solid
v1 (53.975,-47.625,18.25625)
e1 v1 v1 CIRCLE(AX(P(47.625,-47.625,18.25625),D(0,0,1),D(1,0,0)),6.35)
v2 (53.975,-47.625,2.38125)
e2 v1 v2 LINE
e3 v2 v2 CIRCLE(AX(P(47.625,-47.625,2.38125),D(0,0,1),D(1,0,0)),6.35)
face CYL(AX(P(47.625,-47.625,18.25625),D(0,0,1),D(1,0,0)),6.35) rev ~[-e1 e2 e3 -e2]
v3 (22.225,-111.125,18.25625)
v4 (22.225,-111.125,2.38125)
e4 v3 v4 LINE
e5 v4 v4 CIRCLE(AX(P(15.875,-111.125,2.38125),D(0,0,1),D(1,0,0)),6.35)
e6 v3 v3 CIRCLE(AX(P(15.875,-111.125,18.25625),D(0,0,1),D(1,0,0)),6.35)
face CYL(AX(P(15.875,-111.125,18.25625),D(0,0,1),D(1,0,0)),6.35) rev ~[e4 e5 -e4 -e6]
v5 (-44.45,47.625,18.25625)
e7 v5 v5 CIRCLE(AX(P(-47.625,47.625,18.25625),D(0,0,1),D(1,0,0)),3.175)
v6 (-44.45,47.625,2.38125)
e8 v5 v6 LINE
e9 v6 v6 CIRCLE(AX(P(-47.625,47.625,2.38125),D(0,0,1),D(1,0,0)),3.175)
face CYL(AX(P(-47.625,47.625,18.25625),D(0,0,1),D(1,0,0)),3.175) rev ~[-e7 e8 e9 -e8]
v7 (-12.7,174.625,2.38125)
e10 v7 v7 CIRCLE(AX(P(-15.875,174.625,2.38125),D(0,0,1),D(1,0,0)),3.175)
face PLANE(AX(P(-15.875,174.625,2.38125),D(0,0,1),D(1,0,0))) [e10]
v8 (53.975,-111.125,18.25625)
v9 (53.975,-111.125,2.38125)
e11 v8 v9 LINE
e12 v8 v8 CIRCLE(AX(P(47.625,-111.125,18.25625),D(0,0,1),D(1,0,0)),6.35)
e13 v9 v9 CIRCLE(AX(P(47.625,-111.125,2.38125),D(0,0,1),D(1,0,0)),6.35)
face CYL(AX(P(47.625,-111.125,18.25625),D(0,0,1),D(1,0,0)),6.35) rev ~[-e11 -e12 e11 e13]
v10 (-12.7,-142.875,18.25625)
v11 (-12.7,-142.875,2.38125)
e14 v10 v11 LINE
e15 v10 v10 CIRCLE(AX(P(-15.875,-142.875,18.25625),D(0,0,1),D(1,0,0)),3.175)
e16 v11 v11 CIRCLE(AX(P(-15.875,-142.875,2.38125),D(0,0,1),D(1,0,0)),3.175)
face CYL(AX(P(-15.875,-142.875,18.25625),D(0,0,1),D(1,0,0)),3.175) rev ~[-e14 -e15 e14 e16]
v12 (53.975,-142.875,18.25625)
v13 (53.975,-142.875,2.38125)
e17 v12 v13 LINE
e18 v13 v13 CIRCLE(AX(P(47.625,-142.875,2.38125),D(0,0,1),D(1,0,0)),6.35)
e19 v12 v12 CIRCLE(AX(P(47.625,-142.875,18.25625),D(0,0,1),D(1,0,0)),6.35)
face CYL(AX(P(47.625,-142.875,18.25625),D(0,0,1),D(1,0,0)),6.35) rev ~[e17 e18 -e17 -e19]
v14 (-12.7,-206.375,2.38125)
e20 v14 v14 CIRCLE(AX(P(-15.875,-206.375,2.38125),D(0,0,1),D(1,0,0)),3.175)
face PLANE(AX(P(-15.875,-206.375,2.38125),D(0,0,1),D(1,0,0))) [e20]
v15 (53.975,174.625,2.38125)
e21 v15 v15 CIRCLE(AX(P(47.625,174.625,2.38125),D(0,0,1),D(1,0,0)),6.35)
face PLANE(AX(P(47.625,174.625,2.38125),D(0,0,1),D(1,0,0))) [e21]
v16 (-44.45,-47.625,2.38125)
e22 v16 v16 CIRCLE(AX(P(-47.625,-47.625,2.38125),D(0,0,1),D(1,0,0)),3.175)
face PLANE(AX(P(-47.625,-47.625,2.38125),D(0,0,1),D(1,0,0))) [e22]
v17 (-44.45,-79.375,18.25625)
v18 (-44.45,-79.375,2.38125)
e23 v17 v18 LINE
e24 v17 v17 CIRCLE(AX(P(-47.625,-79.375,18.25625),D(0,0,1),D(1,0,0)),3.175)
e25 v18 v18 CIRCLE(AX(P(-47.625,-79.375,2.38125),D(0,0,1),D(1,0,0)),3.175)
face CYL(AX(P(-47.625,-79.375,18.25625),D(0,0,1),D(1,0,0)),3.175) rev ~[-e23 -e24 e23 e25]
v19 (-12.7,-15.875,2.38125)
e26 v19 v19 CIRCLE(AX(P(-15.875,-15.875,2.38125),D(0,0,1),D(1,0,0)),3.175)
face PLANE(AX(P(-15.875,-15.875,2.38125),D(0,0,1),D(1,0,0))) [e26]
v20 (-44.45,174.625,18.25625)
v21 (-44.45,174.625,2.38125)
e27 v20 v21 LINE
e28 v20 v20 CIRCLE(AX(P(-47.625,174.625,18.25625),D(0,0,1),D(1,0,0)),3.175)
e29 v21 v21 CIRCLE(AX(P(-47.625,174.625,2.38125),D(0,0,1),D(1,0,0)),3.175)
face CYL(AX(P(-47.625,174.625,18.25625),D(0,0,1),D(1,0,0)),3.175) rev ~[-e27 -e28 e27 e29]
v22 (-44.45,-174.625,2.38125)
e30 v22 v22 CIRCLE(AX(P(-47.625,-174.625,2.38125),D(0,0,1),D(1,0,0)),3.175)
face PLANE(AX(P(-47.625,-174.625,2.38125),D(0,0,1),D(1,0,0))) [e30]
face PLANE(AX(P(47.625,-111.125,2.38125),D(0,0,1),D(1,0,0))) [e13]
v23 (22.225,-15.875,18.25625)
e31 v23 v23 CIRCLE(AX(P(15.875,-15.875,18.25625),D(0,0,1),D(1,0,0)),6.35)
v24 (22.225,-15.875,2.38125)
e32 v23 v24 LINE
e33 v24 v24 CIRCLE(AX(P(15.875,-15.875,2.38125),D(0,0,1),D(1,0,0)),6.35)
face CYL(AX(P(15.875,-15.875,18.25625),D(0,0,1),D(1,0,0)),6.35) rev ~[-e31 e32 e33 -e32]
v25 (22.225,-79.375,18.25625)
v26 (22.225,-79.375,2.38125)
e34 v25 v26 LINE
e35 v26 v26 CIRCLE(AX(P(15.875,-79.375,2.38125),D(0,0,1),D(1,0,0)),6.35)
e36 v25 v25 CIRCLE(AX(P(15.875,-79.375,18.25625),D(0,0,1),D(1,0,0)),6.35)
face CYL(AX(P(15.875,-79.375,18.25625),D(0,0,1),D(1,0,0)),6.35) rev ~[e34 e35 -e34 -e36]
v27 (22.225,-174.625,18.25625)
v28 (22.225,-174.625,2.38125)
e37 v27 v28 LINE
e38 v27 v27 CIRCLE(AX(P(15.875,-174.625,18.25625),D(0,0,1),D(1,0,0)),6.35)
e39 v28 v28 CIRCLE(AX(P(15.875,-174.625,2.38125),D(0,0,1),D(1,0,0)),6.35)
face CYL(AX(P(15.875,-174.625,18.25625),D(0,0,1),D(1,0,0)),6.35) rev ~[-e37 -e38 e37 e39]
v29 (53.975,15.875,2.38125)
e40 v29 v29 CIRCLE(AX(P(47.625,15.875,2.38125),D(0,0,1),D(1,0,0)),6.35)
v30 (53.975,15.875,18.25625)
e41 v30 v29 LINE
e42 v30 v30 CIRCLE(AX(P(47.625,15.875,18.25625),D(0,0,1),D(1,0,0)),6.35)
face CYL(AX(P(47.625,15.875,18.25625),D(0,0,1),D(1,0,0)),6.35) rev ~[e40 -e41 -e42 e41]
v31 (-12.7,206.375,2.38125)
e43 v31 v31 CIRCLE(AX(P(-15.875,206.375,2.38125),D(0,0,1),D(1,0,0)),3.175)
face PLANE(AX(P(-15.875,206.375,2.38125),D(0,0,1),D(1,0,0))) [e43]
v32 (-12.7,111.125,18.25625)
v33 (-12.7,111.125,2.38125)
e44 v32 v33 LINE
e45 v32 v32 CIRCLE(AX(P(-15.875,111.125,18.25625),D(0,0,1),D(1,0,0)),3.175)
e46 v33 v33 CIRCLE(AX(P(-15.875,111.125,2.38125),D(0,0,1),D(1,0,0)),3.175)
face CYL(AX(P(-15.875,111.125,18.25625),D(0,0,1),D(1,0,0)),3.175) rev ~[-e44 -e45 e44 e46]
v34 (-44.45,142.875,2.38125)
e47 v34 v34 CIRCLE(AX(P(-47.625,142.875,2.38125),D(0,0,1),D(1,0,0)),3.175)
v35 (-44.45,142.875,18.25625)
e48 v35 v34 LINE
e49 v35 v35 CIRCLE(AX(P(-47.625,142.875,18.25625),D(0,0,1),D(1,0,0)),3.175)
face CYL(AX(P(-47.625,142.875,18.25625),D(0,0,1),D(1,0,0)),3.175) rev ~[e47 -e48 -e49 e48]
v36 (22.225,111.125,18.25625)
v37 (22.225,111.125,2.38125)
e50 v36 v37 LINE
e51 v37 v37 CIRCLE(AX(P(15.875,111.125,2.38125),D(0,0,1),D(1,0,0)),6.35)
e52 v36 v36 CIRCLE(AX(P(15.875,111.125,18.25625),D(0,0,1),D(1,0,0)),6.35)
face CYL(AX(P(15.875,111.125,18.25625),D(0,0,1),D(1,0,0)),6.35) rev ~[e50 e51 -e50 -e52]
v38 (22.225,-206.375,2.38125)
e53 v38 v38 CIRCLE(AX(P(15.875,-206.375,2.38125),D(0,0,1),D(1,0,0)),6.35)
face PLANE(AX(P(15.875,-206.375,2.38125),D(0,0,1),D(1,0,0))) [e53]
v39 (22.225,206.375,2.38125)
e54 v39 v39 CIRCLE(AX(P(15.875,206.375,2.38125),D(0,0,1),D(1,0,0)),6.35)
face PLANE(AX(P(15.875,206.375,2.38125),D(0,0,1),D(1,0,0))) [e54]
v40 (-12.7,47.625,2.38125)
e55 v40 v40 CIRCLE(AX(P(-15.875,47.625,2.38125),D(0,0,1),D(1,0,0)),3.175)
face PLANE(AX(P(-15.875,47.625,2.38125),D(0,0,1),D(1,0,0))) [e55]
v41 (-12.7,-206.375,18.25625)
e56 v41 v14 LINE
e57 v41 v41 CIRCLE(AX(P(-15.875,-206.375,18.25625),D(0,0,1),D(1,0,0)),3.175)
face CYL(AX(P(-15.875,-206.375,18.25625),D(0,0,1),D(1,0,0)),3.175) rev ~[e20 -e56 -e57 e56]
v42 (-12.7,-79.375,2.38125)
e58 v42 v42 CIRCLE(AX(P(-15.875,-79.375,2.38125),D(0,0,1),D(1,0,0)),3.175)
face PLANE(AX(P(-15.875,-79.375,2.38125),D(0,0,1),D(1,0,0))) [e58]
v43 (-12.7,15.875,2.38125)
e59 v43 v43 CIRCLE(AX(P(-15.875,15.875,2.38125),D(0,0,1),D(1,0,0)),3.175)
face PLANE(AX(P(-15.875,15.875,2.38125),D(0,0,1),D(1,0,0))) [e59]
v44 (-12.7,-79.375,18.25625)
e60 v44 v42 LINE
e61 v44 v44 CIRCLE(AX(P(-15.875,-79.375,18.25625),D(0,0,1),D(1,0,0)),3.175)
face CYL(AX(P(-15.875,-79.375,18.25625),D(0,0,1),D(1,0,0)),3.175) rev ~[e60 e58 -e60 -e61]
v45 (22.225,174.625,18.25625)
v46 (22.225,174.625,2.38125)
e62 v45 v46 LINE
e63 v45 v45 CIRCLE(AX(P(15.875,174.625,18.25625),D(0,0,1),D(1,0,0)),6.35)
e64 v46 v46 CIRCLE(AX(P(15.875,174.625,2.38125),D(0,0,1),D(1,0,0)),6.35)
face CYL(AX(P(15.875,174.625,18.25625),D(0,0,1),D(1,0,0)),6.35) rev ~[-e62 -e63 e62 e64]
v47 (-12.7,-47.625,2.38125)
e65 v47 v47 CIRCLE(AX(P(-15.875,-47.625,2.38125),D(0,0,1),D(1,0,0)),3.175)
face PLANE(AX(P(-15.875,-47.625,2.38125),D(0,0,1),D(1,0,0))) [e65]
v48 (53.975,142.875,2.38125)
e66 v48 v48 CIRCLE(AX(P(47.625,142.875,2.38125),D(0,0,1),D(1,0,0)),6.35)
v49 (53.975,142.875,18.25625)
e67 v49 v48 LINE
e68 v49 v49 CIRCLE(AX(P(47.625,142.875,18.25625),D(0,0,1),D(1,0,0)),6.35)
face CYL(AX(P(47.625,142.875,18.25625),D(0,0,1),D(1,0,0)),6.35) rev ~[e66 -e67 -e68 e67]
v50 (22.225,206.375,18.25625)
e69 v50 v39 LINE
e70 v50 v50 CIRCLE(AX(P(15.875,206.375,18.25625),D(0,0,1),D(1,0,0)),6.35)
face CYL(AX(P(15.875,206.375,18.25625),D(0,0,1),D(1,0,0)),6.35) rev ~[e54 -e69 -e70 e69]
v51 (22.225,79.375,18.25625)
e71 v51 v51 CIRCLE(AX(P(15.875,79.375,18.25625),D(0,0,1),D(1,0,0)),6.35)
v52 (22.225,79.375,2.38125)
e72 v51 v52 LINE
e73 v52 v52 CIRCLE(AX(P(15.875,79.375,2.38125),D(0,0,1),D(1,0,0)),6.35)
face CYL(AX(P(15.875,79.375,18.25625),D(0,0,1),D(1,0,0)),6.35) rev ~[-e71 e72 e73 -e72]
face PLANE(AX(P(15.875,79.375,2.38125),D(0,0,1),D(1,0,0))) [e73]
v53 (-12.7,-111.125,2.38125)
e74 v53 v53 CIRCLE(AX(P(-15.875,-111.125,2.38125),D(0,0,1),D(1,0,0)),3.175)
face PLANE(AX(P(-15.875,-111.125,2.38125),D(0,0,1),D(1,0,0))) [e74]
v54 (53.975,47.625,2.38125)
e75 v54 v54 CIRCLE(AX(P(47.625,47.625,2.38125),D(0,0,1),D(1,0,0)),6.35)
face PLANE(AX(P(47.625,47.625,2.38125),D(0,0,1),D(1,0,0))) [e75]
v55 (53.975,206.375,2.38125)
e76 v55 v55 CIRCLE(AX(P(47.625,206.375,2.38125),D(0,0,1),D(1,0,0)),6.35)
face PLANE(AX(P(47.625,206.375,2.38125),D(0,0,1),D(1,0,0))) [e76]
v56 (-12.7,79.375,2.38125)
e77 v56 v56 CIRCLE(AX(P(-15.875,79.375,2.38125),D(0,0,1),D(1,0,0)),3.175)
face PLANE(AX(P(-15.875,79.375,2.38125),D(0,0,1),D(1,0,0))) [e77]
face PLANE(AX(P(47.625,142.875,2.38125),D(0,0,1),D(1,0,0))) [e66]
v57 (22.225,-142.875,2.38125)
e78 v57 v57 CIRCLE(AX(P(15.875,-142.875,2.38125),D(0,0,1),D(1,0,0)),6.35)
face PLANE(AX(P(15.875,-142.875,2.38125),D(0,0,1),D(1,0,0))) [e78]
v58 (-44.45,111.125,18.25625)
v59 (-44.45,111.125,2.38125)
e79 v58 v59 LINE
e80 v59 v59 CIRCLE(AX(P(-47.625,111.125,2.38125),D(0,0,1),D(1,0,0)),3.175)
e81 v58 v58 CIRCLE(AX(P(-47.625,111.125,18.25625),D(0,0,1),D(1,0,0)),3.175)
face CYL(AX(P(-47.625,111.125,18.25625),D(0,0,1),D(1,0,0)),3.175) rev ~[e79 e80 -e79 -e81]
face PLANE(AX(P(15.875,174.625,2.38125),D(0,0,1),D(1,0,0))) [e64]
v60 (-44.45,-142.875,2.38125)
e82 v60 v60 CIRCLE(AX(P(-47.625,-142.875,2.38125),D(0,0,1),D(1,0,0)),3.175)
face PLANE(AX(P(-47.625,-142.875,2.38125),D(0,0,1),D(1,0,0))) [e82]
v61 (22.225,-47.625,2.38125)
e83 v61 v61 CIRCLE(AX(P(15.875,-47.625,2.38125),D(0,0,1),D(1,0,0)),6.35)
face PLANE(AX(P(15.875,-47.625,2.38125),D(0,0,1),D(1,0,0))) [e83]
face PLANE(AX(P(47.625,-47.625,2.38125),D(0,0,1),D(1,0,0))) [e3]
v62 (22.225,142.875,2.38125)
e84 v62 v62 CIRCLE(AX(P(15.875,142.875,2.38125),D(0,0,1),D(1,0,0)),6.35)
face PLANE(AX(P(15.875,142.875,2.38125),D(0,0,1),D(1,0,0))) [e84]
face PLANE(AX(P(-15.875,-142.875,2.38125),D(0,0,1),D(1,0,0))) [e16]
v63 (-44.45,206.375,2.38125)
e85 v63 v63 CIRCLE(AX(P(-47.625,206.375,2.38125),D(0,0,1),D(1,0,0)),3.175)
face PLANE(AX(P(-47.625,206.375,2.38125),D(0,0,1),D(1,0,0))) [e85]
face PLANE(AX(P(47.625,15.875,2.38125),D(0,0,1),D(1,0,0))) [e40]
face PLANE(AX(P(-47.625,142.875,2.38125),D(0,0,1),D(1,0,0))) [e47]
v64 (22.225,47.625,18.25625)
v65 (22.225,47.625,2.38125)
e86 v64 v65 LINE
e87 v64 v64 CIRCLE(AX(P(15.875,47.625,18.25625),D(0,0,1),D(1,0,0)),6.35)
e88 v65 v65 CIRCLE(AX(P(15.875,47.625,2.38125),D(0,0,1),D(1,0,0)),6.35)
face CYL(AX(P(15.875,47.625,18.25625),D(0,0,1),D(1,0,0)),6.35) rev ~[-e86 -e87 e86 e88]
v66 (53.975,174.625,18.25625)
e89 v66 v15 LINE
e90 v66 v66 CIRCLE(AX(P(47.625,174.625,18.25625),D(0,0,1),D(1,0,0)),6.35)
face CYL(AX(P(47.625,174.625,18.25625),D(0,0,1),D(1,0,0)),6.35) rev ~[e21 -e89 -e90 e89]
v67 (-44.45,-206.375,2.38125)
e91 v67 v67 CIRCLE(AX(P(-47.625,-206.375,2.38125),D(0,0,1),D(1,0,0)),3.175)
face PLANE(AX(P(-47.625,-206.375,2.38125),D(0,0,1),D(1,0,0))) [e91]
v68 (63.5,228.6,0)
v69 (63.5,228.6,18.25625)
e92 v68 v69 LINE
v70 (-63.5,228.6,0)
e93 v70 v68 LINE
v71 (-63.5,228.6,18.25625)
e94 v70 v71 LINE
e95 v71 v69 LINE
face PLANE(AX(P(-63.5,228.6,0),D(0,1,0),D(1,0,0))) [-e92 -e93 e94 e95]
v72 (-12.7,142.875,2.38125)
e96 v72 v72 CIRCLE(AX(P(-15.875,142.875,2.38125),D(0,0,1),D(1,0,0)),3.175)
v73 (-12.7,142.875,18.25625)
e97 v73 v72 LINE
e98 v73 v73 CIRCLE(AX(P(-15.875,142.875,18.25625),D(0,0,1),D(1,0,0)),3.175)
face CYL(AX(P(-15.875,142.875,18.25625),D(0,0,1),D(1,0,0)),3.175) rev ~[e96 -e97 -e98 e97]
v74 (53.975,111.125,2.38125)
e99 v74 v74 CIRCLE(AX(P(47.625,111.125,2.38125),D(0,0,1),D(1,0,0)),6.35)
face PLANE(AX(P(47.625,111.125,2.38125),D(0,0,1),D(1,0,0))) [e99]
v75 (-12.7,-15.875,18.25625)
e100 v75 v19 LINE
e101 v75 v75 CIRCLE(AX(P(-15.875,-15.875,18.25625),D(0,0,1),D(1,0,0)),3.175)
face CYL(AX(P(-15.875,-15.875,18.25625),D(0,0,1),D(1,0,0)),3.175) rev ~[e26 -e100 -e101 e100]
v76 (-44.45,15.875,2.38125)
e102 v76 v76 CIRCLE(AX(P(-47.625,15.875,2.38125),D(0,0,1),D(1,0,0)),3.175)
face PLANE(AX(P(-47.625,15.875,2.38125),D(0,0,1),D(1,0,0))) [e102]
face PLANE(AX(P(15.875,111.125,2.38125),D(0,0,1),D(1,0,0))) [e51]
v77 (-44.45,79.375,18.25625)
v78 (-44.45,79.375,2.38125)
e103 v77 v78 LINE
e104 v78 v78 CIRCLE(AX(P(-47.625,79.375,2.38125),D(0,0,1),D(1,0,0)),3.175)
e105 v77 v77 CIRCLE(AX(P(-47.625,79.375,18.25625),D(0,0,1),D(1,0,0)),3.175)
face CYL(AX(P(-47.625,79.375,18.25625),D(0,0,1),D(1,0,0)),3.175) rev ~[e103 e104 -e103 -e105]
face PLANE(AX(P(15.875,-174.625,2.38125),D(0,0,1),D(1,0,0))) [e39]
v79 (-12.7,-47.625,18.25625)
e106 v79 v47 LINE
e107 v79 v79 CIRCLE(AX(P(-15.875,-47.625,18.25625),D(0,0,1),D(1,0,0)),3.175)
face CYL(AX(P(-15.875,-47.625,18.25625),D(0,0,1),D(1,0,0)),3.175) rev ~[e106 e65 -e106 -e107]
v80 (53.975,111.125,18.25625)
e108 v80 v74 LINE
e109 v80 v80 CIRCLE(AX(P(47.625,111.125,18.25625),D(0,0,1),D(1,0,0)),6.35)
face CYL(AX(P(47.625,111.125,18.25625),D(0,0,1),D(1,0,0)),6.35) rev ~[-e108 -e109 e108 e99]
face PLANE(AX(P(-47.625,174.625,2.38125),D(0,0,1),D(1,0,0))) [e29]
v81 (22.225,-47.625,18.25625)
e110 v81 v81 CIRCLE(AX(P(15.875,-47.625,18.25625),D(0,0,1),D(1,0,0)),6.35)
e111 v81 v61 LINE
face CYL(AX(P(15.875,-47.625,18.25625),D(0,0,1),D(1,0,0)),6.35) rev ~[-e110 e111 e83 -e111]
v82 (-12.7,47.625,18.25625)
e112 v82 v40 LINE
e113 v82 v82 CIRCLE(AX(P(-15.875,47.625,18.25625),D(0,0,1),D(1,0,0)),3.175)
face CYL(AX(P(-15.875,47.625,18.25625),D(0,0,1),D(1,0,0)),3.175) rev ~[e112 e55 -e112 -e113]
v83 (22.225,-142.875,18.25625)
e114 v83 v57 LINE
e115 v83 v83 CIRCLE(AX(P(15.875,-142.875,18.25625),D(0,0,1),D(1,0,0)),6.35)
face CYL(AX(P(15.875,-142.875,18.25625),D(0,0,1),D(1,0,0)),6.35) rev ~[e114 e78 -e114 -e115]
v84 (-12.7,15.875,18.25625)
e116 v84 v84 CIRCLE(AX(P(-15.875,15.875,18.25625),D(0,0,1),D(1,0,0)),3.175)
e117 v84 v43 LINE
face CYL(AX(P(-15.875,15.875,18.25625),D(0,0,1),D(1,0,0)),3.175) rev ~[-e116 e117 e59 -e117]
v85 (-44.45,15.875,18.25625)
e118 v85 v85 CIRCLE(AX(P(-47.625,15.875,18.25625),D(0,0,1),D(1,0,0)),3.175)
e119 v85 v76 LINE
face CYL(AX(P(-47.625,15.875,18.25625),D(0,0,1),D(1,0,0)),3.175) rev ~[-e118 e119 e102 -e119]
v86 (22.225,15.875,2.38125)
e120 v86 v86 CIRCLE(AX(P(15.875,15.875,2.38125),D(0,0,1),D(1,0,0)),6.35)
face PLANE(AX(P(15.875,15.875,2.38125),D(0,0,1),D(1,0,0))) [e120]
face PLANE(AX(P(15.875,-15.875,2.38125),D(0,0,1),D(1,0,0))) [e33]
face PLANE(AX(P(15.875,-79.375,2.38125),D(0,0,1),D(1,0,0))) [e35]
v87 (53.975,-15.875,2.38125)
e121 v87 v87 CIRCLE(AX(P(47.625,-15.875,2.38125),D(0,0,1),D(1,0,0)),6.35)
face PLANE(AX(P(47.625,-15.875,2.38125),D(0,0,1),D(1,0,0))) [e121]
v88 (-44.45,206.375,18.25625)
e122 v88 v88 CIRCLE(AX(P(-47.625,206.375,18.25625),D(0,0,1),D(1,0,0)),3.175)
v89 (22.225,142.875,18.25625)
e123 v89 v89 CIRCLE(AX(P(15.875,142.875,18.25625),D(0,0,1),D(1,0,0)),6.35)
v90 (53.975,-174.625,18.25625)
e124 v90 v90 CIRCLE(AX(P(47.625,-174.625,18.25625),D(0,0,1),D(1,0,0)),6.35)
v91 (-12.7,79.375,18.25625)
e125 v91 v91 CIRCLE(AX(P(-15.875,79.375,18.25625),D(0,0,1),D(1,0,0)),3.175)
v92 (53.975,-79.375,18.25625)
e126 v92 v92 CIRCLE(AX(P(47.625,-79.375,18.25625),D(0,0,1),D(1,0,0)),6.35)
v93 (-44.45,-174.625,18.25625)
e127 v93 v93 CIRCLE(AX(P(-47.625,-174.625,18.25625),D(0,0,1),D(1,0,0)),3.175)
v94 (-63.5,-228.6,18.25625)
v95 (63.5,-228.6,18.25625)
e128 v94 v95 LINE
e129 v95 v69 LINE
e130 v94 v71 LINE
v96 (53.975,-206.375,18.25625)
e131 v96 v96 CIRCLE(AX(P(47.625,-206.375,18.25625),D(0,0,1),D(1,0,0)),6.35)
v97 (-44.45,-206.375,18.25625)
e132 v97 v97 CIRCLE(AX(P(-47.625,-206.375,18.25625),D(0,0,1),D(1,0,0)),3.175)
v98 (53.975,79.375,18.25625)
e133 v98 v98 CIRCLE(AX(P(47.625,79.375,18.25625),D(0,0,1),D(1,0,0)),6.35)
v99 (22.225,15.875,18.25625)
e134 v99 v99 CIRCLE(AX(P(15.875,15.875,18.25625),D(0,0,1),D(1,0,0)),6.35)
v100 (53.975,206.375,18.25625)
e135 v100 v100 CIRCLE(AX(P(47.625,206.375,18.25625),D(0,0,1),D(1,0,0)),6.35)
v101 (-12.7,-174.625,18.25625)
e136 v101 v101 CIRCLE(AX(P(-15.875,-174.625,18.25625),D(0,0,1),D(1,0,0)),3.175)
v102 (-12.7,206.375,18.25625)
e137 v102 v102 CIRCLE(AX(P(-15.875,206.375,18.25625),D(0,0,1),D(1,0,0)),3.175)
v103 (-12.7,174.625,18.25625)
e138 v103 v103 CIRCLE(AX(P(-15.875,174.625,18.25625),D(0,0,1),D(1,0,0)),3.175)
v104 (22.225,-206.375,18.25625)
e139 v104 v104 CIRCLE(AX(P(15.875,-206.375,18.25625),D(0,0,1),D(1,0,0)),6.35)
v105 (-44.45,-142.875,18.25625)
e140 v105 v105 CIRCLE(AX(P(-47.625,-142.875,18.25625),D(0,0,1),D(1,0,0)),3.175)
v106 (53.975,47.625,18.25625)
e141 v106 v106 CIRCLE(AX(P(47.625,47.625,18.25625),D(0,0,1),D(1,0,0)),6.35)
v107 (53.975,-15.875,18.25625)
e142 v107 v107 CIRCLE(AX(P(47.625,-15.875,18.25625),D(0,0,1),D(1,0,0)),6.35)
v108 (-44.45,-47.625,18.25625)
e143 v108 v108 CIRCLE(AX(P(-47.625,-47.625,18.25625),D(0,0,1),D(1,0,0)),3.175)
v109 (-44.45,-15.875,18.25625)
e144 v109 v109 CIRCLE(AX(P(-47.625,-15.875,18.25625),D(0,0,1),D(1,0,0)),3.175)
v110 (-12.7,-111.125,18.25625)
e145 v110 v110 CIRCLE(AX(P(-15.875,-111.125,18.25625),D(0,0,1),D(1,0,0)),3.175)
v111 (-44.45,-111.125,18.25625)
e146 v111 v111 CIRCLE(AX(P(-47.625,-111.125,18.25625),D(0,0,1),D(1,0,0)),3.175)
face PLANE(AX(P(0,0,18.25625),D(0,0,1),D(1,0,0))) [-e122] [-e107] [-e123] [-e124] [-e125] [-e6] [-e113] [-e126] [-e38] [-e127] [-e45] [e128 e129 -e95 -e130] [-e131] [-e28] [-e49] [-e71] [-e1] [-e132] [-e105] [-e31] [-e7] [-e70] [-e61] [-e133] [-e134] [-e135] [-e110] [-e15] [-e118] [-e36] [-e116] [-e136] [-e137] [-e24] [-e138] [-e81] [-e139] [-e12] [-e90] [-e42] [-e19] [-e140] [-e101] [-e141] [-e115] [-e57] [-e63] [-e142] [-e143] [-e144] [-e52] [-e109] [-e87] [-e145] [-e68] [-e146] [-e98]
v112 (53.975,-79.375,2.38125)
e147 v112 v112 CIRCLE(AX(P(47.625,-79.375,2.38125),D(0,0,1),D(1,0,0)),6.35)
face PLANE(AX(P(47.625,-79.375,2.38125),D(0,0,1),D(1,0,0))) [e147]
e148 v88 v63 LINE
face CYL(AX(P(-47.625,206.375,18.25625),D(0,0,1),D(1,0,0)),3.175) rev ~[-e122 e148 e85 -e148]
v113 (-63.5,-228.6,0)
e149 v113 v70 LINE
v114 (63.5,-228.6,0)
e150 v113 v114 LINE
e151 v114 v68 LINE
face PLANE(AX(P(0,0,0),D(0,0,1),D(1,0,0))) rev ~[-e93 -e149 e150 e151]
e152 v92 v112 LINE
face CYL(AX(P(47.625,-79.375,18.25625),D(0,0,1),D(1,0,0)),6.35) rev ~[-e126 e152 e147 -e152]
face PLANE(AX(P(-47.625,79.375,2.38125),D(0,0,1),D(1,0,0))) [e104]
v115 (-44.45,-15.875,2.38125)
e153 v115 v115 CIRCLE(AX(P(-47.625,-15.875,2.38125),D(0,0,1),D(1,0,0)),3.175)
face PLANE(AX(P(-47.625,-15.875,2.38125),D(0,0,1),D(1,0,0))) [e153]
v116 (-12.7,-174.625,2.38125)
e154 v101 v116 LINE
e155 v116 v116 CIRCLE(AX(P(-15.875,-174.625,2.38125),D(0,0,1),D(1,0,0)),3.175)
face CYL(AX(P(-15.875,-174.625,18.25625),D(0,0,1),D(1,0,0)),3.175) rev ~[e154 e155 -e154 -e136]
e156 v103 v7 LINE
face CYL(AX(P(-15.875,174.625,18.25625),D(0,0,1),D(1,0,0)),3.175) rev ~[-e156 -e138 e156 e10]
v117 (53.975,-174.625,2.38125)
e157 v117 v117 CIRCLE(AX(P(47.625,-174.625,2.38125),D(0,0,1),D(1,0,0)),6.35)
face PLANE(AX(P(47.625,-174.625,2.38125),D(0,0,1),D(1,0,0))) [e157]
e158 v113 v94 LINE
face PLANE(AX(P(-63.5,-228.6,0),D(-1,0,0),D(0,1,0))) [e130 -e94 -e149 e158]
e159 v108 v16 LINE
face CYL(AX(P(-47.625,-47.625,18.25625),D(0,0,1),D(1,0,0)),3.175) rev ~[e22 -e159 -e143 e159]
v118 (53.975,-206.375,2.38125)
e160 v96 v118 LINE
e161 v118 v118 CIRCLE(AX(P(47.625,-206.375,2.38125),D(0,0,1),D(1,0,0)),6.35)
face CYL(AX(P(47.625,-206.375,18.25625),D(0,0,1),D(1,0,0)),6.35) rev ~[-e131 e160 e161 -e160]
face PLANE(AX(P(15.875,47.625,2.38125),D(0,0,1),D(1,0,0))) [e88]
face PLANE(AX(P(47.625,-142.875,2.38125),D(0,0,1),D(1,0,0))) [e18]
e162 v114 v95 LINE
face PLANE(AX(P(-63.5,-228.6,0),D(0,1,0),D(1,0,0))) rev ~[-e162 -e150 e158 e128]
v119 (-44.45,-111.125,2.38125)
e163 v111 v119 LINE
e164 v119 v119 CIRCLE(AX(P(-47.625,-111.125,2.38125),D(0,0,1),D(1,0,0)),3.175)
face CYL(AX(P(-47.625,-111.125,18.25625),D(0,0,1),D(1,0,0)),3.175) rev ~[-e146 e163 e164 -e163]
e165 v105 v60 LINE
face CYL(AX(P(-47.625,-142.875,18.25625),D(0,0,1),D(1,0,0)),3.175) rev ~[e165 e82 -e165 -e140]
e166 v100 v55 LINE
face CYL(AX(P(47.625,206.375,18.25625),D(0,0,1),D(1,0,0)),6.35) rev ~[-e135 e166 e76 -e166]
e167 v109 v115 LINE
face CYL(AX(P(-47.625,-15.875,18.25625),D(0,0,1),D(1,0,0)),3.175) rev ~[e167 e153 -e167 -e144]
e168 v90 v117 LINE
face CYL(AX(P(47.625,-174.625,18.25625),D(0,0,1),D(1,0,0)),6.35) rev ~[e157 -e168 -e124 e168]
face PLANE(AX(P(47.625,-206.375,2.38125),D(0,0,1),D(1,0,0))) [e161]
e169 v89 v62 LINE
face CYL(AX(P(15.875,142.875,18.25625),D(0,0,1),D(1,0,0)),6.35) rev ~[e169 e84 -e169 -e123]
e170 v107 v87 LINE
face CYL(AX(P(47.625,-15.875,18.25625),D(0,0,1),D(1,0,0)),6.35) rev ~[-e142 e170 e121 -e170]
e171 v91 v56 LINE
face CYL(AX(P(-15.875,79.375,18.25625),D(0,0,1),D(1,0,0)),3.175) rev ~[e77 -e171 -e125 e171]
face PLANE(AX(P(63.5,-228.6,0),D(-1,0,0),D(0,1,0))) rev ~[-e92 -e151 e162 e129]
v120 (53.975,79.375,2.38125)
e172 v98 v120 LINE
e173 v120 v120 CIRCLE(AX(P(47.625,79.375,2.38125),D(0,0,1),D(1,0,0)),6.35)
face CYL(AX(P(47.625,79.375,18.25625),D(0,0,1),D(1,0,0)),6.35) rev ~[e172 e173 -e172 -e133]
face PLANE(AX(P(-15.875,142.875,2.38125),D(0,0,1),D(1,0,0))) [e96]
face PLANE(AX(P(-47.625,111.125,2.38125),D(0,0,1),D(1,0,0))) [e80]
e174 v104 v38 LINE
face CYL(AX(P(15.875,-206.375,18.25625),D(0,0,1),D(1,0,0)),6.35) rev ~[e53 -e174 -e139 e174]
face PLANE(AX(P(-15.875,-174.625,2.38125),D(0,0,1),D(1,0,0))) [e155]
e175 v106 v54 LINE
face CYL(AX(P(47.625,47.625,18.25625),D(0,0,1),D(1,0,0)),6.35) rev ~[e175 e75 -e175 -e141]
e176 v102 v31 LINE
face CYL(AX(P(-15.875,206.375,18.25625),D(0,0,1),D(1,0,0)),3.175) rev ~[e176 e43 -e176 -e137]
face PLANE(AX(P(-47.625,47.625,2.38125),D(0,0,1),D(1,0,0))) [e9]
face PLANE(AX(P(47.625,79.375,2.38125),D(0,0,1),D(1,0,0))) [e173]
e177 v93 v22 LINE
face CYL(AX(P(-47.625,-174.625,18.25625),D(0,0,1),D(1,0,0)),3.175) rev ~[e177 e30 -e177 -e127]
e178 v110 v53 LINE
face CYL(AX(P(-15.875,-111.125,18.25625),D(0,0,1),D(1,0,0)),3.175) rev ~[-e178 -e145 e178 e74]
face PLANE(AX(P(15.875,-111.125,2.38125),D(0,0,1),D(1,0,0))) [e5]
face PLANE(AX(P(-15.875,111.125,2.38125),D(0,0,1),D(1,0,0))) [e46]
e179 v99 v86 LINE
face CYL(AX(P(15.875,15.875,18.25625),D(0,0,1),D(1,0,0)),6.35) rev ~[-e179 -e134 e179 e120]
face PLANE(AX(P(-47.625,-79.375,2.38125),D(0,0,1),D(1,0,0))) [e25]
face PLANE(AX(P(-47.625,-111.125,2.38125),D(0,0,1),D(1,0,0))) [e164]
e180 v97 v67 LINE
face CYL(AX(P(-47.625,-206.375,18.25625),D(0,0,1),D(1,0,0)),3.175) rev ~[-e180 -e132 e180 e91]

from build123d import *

# Parameters (mm, degrees)
F0_W     = 127
F0_H     = 457.2
F1_DEPTH = 18.25625
F2_R     = 6.35
F2_R_2   = 3.175
F3_DEPTH = 15.875


with BuildPart() as f1:
    # F0 (on Top) → F1 (new body)
    with BuildSketch(Plane.XY):
        Rectangle(F0_W, F0_H)
    extrude(amount=F1_DEPTH)

    # F2 (on face) → F3 (cut)
    with BuildSketch(Plane.XY.offset(18.25625)):
        with Locations((47.625, 206.375)):
            Circle(F2_R)
        with Locations((-47.625, 206.375)):
            Circle(F2_R_2)
        with Locations((47.625, 174.625)):
            Circle(F2_R)
        with Locations((47.625, 142.875)):
            Circle(F2_R)
        with Locations((47.625, 111.125)):
            Circle(F2_R)
        with Locations((47.625, 79.375)):
            Circle(F2_R)
        with Locations((47.625, 47.625)):
            Circle(F2_R)
        with Locations((47.625, 15.875)):
            Circle(F2_R)
        with Locations((47.625, -15.875)):
            Circle(F2_R)
        with Locations((47.625, -47.625)):
            Circle(F2_R)
        with Locations((47.625, -79.375)):
            Circle(F2_R)
        with Locations((47.625, -111.125)):
            Circle(F2_R)
        with Locations((47.625, -142.875)):
            Circle(F2_R)
        with Locations((47.625, -174.625)):
            Circle(F2_R)
        with Locations((47.625, -206.375)):
            Circle(F2_R)
        with Locations((15.875, 206.375)):
            Circle(F2_R)
        with Locations((15.875, 174.625)):
            Circle(F2_R)
        with Locations((15.875, 142.875)):
            Circle(F2_R)
        with Locations((15.875, 111.125)):
            Circle(F2_R)
        with Locations((15.875, 79.375)):
            Circle(F2_R)
        with Locations((15.875, 47.625)):
            Circle(F2_R)
        with Locations((15.875, 15.875)):
            Circle(F2_R)
        with Locations((15.875, -15.875)):
            Circle(F2_R)
        with Locations((15.875, -47.625)):
            Circle(F2_R)
        with Locations((15.875, -79.375)):
            Circle(F2_R)
        with Locations((15.875, -111.125)):
            Circle(F2_R)
        with Locations((15.875, -142.875)):
            Circle(F2_R)
        with Locations((15.875, -174.625)):
            Circle(F2_R)
        with Locations((15.875, -206.375)):
            Circle(F2_R)
        with Locations((-47.625, 174.625)):
            Circle(F2_R_2)
        with Locations((-47.625, 142.875)):
            Circle(F2_R_2)
        with Locations((-47.625, 111.125)):
            Circle(F2_R_2)
        with Locations((-47.625, 79.375)):
            Circle(F2_R_2)
        with Locations((-47.625, 47.625)):
            Circle(F2_R_2)
        with Locations((-47.625, 15.875)):
            Circle(F2_R_2)
        with Locations((-47.625, -15.875)):
            Circle(F2_R_2)
        with Locations((-47.625, -47.625)):
            Circle(F2_R_2)
        with Locations((-47.625, -79.375)):
            Circle(F2_R_2)
        with Locations((-47.625, -111.125)):
            Circle(F2_R_2)
        with Locations((-47.625, -142.875)):
            Circle(F2_R_2)
        with Locations((-47.625, -174.625)):
            Circle(F2_R_2)
        with Locations((-47.625, -206.375)):
            Circle(F2_R_2)
        with Locations((-15.875, 206.375)):
            Circle(F2_R_2)
        with Locations((-15.875, 174.625)):
            Circle(F2_R_2)
        with Locations((-15.875, 142.875)):
            Circle(F2_R_2)
        with Locations((-15.875, 111.125)):
            Circle(F2_R_2)
        with Locations((-15.875, 79.375)):
            Circle(F2_R_2)
        with Locations((-15.875, 47.625)):
            Circle(F2_R_2)
        with Locations((-15.875, 15.875)):
            Circle(F2_R_2)
        with Locations((-15.875, -15.875)):
            Circle(F2_R_2)
        with Locations((-15.875, -47.625)):
            Circle(F2_R_2)
        with Locations((-15.875, -79.375)):
            Circle(F2_R_2)
        with Locations((-15.875, -111.125)):
            Circle(F2_R_2)
        with Locations((-15.875, -142.875)):
            Circle(F2_R_2)
        with Locations((-15.875, -174.625)):
            Circle(F2_R_2)
        with Locations((-15.875, -206.375)):
            Circle(F2_R_2)
    extrude(amount=-F3_DEPTH, mode=Mode.SUBTRACT)


solid = f1.part
